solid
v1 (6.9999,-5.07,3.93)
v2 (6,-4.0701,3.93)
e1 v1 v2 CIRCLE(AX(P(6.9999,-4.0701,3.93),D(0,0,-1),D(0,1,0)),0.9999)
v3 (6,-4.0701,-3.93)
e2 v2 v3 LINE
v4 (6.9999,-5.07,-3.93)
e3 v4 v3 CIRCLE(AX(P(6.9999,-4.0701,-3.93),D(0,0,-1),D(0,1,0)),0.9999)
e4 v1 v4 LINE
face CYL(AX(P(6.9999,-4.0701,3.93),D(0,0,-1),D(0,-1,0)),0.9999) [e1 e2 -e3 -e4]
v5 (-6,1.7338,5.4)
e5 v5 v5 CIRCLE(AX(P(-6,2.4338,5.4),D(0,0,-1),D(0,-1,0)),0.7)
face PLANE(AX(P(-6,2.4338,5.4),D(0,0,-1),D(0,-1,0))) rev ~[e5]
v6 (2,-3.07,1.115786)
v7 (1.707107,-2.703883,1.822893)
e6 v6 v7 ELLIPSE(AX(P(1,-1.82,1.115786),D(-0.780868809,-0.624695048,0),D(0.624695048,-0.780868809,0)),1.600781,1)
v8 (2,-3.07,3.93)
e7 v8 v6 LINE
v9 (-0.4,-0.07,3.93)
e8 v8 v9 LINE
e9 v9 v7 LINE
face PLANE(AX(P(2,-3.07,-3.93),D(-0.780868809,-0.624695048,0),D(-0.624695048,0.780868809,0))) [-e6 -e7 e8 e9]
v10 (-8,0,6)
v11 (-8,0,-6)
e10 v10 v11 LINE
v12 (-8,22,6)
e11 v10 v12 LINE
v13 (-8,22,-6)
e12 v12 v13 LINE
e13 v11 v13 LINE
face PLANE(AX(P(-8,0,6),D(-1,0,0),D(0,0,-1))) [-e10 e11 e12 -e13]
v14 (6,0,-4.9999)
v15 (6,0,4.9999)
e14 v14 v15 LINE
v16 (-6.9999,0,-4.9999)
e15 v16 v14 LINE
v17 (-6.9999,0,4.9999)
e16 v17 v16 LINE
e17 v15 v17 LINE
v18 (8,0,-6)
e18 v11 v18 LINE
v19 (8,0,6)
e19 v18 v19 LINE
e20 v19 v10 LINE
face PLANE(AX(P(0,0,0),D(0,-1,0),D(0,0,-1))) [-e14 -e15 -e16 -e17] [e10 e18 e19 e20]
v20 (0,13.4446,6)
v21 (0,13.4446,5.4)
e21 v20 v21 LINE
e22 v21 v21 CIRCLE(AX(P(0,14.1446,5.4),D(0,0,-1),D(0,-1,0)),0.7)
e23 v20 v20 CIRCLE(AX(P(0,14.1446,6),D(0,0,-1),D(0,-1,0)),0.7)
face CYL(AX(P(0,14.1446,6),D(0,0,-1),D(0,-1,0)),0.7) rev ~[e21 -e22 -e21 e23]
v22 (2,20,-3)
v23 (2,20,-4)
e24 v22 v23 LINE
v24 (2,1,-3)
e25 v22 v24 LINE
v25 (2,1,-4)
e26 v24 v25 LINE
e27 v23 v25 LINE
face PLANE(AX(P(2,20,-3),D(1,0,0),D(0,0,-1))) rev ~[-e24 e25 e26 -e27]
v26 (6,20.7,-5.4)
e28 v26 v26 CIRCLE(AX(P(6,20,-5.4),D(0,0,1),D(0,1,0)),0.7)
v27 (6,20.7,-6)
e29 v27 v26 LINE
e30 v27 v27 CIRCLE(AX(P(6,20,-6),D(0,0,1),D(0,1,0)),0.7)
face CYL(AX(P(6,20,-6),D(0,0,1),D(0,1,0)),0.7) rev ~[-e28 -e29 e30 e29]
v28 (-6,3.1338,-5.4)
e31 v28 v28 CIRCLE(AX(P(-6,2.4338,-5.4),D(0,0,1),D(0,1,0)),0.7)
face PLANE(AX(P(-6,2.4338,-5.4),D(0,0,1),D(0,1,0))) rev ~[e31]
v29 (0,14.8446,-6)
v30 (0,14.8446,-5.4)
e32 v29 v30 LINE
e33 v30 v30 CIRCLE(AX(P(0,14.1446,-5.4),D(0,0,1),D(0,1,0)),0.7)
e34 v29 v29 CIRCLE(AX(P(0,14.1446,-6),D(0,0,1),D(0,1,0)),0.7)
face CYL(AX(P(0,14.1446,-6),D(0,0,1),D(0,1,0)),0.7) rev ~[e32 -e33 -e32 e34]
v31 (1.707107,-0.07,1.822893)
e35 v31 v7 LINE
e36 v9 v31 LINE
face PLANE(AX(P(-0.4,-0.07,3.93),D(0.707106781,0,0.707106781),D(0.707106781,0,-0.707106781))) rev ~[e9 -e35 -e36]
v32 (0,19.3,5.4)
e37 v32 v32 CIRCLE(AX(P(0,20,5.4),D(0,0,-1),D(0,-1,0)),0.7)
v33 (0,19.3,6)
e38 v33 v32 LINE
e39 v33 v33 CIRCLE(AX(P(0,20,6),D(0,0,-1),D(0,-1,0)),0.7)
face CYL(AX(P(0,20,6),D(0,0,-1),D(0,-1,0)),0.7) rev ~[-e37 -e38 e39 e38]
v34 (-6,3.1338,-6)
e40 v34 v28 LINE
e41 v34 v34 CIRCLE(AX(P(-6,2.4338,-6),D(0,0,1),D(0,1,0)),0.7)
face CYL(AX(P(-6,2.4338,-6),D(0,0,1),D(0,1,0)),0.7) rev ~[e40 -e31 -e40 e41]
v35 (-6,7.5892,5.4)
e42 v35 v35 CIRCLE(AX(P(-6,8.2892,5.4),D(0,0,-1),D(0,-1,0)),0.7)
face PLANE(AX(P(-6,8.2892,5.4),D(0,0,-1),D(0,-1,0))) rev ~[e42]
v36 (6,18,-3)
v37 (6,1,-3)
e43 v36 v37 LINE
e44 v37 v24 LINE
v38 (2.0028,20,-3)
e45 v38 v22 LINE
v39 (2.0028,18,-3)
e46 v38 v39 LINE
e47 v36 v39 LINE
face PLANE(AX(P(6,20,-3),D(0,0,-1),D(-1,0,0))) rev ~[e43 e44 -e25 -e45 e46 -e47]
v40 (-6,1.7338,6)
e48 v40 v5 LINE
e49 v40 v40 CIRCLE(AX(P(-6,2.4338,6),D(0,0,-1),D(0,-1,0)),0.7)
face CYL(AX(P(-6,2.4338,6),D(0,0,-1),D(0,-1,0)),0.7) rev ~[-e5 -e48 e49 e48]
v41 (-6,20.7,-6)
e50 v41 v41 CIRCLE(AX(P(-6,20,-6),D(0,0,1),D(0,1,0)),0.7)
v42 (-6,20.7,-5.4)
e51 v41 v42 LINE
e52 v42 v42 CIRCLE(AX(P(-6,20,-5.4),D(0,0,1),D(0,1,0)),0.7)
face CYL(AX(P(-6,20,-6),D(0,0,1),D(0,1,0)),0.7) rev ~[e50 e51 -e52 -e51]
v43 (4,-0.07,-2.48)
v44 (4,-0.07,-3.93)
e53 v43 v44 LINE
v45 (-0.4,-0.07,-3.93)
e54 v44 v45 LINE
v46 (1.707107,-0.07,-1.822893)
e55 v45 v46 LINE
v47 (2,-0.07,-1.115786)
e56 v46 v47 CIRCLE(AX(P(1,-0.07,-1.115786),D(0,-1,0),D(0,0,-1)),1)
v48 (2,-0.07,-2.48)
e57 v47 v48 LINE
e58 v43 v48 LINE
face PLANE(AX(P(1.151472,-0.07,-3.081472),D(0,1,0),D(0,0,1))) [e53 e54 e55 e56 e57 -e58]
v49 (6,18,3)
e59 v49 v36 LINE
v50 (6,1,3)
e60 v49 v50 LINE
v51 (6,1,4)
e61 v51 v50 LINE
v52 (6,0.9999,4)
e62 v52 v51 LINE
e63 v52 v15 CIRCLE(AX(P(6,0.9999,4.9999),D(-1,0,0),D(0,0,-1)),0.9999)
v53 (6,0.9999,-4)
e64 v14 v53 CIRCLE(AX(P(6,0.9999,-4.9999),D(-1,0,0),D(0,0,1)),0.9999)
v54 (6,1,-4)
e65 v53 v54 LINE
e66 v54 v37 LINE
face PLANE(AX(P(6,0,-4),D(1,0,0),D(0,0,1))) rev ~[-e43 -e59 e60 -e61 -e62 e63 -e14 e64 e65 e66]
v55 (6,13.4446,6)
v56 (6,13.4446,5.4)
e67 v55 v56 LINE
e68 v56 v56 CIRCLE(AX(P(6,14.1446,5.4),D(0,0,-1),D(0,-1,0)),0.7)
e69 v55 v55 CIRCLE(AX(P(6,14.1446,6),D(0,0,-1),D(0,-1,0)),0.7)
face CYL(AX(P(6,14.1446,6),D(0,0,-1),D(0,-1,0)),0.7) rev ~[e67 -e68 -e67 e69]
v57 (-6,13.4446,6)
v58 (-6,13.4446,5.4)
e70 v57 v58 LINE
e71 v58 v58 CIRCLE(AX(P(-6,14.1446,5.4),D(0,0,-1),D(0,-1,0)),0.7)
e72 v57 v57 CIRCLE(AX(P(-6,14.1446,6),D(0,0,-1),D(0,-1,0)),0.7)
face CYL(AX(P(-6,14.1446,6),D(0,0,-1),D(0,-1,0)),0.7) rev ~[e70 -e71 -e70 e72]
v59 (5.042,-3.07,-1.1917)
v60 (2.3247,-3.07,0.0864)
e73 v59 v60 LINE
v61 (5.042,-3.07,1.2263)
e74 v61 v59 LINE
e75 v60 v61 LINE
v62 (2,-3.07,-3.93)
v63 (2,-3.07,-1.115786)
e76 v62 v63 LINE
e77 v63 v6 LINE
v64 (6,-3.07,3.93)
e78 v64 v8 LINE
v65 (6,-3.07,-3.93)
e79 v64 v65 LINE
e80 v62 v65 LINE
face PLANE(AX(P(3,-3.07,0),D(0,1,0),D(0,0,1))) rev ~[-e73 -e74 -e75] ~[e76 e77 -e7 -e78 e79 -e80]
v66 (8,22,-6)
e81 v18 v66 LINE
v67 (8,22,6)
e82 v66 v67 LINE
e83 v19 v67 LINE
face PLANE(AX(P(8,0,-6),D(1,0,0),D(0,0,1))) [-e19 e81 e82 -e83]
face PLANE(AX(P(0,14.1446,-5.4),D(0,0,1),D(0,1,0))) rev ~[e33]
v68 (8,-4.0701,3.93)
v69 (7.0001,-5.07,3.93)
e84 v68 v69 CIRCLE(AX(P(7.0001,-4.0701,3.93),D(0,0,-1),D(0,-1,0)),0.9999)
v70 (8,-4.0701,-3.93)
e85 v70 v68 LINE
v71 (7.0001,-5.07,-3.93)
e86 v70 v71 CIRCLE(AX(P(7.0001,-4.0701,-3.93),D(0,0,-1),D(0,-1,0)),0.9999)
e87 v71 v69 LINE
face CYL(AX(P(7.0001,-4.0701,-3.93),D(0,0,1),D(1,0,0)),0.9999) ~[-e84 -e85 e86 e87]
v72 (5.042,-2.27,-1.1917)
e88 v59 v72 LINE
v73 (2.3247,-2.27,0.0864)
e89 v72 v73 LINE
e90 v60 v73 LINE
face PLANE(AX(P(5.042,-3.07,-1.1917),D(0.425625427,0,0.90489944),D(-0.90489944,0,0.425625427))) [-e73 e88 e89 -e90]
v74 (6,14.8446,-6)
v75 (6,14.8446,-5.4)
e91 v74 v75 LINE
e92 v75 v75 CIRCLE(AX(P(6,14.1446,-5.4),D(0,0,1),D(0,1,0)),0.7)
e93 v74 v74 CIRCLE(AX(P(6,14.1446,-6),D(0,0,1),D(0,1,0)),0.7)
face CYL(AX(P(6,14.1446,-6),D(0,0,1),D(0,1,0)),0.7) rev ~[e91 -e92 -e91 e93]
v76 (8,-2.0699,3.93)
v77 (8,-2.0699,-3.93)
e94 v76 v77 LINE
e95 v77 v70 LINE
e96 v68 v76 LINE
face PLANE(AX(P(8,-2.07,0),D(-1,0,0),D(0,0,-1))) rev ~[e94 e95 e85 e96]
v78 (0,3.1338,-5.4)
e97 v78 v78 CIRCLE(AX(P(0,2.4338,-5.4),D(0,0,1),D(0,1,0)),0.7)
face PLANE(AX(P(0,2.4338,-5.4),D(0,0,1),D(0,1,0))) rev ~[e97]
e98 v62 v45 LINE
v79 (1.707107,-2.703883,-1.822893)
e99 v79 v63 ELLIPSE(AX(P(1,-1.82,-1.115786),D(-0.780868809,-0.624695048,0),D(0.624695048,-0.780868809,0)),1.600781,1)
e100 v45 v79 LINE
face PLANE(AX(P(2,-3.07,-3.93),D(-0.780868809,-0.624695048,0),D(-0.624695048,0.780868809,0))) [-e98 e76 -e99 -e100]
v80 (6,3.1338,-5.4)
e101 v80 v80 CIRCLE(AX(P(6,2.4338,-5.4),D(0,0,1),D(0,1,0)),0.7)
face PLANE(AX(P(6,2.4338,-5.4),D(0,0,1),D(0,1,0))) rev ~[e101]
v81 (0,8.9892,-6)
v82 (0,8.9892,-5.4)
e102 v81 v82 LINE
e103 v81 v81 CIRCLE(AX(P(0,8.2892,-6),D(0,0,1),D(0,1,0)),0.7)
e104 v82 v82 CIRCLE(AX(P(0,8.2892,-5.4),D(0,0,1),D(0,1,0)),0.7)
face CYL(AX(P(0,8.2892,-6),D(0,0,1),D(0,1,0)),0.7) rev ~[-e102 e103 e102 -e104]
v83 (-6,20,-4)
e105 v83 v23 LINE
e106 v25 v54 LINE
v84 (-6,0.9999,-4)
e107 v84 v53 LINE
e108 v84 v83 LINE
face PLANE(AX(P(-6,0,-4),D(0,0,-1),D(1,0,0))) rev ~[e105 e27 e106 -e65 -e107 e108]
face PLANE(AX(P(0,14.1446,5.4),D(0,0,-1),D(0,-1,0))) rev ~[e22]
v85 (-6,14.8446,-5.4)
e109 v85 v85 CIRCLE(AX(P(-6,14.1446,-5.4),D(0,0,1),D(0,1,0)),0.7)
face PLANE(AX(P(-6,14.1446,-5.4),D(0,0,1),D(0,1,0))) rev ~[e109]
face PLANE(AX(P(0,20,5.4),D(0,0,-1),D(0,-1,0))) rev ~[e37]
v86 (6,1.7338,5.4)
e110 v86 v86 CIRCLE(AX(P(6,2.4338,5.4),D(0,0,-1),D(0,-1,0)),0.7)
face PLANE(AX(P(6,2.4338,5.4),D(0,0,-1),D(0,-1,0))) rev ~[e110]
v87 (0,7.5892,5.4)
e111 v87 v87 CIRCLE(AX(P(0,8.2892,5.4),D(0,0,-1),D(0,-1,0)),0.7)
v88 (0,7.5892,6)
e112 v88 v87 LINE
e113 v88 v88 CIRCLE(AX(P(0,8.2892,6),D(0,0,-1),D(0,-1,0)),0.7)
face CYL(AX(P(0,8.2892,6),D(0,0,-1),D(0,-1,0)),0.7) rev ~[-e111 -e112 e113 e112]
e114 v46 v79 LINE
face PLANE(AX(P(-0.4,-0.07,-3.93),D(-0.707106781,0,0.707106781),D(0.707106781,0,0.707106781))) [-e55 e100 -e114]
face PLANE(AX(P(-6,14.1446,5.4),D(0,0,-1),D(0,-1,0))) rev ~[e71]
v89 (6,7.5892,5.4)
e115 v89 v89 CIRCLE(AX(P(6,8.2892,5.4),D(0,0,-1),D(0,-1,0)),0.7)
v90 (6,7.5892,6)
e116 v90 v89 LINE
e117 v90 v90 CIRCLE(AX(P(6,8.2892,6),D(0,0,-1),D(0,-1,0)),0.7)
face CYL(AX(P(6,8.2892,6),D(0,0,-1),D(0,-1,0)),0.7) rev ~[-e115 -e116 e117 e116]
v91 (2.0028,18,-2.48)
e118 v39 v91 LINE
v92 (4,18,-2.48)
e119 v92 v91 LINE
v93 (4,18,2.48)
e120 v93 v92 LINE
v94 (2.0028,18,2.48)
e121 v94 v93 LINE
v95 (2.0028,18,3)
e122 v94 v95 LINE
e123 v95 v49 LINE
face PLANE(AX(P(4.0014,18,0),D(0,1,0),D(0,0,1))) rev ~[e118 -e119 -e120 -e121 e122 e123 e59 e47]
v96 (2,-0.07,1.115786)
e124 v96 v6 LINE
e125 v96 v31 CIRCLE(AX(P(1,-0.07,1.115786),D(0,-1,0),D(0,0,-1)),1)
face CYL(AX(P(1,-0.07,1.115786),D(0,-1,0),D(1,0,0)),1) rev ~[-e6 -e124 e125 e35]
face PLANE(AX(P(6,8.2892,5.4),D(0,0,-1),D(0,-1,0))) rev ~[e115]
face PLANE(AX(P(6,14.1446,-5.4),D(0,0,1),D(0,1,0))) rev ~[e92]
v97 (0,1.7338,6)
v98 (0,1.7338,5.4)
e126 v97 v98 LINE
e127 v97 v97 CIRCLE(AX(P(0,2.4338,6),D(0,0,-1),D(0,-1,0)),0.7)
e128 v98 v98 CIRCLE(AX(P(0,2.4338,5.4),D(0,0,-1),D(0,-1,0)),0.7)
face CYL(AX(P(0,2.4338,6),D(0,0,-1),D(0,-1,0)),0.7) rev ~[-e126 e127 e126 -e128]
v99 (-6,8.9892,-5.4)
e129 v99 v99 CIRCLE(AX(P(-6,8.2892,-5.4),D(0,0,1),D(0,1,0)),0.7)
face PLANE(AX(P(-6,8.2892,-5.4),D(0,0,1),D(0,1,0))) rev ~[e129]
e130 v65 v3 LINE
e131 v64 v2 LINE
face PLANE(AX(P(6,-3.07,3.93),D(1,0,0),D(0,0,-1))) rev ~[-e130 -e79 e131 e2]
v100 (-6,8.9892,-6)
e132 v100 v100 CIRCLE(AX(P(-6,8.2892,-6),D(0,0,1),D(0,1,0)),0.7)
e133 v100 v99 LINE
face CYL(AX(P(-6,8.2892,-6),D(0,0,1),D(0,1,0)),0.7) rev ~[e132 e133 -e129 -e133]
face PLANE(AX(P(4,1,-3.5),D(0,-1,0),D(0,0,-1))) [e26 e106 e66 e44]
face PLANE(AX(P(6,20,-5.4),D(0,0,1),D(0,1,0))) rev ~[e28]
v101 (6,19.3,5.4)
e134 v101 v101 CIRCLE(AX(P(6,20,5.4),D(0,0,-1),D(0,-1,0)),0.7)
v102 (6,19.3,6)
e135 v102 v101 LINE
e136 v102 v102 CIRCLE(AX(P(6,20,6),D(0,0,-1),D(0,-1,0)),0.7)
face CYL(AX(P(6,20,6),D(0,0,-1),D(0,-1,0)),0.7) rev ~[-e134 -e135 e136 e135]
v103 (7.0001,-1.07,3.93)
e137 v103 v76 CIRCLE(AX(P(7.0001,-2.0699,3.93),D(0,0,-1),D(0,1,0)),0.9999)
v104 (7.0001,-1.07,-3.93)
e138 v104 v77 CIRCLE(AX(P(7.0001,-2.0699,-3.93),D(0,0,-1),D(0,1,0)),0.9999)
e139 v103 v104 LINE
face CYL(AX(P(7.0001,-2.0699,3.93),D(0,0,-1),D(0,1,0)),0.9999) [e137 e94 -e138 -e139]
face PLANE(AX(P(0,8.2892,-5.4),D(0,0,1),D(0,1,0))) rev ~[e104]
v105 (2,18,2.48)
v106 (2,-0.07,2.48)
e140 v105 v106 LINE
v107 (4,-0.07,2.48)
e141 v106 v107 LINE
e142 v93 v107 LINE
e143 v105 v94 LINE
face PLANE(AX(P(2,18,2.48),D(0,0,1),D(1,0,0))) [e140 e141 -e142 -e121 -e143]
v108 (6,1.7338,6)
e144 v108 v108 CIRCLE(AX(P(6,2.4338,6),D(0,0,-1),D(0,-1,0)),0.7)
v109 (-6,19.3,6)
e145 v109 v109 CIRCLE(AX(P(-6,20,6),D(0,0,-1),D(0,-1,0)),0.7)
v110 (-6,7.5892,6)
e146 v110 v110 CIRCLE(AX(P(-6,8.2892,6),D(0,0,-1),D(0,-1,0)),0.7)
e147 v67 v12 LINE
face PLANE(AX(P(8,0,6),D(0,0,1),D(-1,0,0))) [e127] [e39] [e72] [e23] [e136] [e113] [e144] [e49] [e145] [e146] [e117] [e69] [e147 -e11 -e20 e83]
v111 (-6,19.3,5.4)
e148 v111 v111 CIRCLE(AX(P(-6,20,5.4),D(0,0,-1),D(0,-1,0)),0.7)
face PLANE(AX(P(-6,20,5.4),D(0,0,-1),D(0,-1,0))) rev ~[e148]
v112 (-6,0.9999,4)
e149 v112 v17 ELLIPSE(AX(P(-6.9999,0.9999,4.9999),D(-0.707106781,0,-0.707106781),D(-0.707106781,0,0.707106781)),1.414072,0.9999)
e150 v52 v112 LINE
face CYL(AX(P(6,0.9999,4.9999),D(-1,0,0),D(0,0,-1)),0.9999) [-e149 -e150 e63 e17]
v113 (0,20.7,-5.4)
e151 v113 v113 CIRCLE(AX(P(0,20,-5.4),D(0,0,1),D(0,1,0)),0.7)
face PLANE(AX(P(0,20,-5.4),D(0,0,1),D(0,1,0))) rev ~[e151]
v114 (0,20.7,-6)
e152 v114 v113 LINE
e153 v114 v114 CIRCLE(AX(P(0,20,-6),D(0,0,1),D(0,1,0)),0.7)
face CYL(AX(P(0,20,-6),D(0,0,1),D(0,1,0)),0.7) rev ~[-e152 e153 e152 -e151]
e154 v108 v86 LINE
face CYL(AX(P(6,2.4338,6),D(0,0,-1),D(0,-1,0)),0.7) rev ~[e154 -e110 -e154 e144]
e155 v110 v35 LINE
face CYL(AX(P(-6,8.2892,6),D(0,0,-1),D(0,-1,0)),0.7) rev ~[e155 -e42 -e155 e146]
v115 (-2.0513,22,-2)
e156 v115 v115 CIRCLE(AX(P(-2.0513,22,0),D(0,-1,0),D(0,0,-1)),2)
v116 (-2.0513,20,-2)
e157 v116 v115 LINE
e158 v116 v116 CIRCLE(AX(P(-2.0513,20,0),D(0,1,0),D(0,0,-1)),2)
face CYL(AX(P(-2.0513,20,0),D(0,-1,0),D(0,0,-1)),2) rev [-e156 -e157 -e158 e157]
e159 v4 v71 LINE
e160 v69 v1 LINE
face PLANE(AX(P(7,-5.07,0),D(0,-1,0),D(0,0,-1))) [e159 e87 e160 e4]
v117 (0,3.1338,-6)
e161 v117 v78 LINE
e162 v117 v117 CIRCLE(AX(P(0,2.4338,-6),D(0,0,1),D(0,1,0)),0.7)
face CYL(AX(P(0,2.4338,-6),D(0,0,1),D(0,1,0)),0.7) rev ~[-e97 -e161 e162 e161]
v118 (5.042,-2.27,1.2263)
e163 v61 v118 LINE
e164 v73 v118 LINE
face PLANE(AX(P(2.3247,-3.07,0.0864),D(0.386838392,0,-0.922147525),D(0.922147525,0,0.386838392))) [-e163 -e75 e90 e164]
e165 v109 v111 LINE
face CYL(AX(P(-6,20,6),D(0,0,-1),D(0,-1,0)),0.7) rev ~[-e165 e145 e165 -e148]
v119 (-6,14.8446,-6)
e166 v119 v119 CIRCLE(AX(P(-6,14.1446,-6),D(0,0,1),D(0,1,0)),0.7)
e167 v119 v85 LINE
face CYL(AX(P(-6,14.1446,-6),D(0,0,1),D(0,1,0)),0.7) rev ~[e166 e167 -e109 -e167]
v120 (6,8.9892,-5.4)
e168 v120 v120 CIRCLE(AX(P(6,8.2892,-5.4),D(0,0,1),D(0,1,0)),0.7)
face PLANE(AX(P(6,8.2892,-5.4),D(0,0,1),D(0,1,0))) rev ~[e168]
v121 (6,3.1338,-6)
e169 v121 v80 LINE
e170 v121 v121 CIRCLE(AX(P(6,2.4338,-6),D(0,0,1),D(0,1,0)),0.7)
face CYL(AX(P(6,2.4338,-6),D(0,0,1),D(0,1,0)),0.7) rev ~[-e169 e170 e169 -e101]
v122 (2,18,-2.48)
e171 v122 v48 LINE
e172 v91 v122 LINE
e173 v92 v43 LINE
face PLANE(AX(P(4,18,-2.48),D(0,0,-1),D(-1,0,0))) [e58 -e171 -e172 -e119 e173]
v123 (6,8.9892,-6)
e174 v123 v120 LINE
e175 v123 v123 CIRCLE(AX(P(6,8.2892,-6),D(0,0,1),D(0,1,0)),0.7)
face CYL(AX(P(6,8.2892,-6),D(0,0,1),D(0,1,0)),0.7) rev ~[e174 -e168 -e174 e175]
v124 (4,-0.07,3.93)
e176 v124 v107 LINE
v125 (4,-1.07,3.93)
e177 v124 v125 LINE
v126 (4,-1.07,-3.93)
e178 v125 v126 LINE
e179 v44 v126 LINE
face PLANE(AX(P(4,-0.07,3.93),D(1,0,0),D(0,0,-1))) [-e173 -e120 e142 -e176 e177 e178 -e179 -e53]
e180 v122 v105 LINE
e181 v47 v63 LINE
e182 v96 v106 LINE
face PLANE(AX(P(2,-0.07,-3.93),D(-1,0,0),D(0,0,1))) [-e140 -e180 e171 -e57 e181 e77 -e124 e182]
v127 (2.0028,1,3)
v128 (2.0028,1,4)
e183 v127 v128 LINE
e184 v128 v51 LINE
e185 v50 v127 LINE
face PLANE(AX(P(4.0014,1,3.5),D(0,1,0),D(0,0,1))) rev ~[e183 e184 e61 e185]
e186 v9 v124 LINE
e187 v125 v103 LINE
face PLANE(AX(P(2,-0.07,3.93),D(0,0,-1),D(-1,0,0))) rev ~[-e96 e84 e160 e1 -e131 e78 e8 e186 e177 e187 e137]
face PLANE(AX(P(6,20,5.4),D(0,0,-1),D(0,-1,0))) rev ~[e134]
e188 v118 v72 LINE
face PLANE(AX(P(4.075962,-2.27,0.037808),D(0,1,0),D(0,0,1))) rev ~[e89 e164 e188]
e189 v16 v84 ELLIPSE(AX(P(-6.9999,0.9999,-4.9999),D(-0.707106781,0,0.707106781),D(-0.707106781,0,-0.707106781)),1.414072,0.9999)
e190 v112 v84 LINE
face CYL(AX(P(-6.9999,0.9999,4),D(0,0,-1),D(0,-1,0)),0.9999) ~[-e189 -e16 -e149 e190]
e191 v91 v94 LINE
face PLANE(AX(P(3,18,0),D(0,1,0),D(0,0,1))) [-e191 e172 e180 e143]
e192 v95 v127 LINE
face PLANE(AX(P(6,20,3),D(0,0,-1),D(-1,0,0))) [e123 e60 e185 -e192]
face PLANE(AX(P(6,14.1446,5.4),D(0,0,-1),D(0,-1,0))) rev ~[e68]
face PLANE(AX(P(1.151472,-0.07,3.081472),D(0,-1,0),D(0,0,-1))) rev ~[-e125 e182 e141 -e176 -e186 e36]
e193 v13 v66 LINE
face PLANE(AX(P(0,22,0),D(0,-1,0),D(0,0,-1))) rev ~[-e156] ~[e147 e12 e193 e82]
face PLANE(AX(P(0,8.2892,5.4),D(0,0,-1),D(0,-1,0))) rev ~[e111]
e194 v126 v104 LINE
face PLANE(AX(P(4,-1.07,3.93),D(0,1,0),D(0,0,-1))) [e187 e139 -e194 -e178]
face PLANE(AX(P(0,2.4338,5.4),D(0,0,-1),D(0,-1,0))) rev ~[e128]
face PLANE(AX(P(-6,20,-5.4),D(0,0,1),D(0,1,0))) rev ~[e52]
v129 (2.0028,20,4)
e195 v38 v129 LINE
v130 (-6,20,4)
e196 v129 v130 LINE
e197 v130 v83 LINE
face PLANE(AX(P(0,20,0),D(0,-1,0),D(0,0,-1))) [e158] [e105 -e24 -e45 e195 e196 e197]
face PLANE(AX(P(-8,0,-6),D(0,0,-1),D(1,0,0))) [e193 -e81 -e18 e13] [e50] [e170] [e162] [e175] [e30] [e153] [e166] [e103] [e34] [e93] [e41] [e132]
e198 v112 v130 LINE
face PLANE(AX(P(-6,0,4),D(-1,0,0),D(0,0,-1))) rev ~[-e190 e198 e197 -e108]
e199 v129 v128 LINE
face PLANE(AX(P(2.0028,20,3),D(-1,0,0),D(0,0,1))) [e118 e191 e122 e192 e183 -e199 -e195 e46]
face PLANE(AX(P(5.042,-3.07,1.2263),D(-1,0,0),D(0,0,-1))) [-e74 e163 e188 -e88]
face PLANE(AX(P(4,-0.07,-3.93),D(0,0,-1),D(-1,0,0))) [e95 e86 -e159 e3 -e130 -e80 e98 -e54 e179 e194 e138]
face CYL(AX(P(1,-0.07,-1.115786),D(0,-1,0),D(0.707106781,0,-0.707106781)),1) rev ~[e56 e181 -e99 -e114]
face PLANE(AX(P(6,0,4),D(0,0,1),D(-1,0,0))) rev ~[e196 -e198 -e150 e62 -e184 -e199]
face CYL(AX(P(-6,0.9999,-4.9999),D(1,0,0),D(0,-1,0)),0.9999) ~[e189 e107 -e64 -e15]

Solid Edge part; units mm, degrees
sketch "Sketch1" plane through (0, 0, 0) normal (0, -1, 0) x (1, 0, 0)
  line L0 (8, 6) -> (-8, 6)
  line L1 (-8, 6) -> (-8, -6)
  line L2 (-8, -6) -> (8, -6)
  line L3 (8, -6) -> (8, 6)
extrude "Protrusion1" add sketch "Sketch1" against normal blind 22
sketch "Sketch2" plane through (0, 0, 0) normal (0, -1, 0) x (1, 0, 0)
  line L0 (6, 4) -> (-6, 4)
  line L1 (-6, 4) -> (-6, -4)
  line L2 (-6, -4) -> (6, -4)
  line L3 (6, -4) -> (6, 4)
extrude "Cutout1" cut sketch "Sketch2" against normal blind 20
sketch "Sketch3" plane through (0, 20, 0) normal (0, -1, 0) x (1, 0, 0)
  line L0 (6, -3) -> (2, -3)
  line L1 (2, -3) -> (2, -4)
  line L2 (2, -4) -> (6, -4)
  line L3 (6, -4) -> (6, -3)
  line L4 (6, 3) -> (2.0028, 3)
  line L5 (2.0028, 3) -> (2.0028, 4)
  line L6 (2.0028, 4) -> (6, 4)
  line L7 (6, 4) -> (6, 3)
extrude "LockSideProtrusion" add sketch "Sketch3" along normal blind 19
sketch "Sketch4" plane through (0, 20, 0) normal (0, -1, 0) x (1, 0, 0)
  line L0 (6, 3) -> (6, -3)
  line L1 (6, -3) -> (2.0028, -3)
  line L2 (2.0028, -3) -> (2.0028, 3)
  line L3 (2.0028, 3) -> (6, 3)
extrude "LockBaseProtrusion" add sketch "Sketch4" along normal blind 2
sketch "Sketch5" plane through (4.0014, 18, 0) normal (0, -1, 0) x (1, 0, 0)
  line L0 (-0.0014, 2.48) -> (-0.0014, -2.48)
  line L1 (-0.0014, -2.48) -> (-2.0014, -2.48)
  line L2 (-2.0014, -2.48) -> (-2.0014, 2.48)
  line L3 (-2.0014, 2.48) -> (-0.0014, 2.48)
extrude "LockProtrusion" add sketch "Sketch5" along normal blind 18.07
sketch "Sketch6" plane through (3, -0.07, 0) normal (0, -1, 0) x (1, 0, 0)
  line L0 (-1, -3.93) -> (-1, 3.93)
  line L1 (-1, 3.93) -> (1, 3.93)
  line L2 (1, 3.93) -> (1, -3.93)
  line L3 (1, -3.93) -> (-1, -3.93)
extrude "LockHeadMainProtrusion" add sketch "Sketch6" along normal blind 3
sketch "Sketch7" plane through (3, -0.07, 0) normal (0, -1, 0) x (1, 0, 0)
  line L0 (-3.4, 3.93) -> (-1, 1.53)
  line L1 (-1, 1.53) -> (-1, 3.93)
  line L2 (-1, 3.93) -> (-3.4, 3.93)
  line L3 (-3.4, -3.93) -> (-1, -1.53)
  line L4 (-1, -1.53) -> (-1, -3.93)
  line L5 (-1, -3.93) -> (-3.4, -3.93)
  dimension "D1" = 0.07
  dimension "D2" = 7.86
  dimension "D3" = 0.07
extrude "LockHeadTriangleProtrusion" add sketch "Sketch7" along normal blind 3
sketch "Sketch8" plane through (1.8, -1.57, -3.93) normal (0, 0, -1) x (1, 0, 0)
  line L0 (-2.2, 1.5) -> (0.2, 1.5)
  line L1 (0.2, 1.5) -> (-2.2, -1.5)
  line L2 (-2.2, -1.5) -> (-2.2, 1.5)
extrude "LockHeadTriangleCut" cut sketch "Sketch8" against normal blind 8.6519
sketch "Sketch9" plane through (4, 7.465, 0) normal (1, 0, 0) x (0, 0, 1)
  line L0 (-3.93, 10.535) -> (3.93, 10.535)
  line L1 (3.93, 10.535) -> (3.93, 8.535)
  line L2 (3.93, 8.535) -> (-3.93, 8.535)
  line L3 (-3.93, 8.535) -> (-3.93, 10.535)
extrude "FlapBaseProtrusion" add sketch "Sketch9" along normal blind 4
sketch "Sketch10" plane through (5, -3.07, 0) normal (0, -1, 0) x (1, 0, 0)
  line L0 (3, 3.93) -> (1, 3.93)
  line L1 (1, 3.93) -> (1, -3.93)
  line L2 (1, -3.93) -> (3, -3.93)
  line L3 (3, -3.93) -> (3, 3.93)
extrude "FlapHandleProtrusion" add sketch "Sketch10" along normal blind 2
fillet "SlotInnerRound" radius 1 3 edges at (0, 0, 4) (-6, 0, 0) (0, 0, -4)
fillet "FlapRound" radius 1 3 edges at (6, -5.07, 0) (8, -5.07, 0) (8, -1.07, 0)
sketch "Sketch11" plane through (4, -3.07, 0) normal (0, -1, 0) x (1, 0, 0)
  line L0 (-1.6753, 0.0864) -> (1.042, 1.2263)
  line L1 (1.042, 1.2263) -> (1.042, -1.1917)
  line L2 (1.042, -1.1917) -> (-1.6753, 0.0864)
extrude "MarkCut" cut sketch "Sketch11" against normal blind 0.8
hole "PushHole" at (-2.0513, 20, 0) direction (0, 1, 0) diameter 4 end through all
fillet "LockTriangleRound" radius 1 2 edges at (2, -1.57, 1.53) (2, -1.57, -1.53)
hole "GlueHole2" at (-6, 2.4338, -6) direction (0, 0, 1) diameter 1.4 depth 0.6
pattern_linear "Pattern1" count 3 spacing 6 along (1, 0, 0) count 4 spacing 5.8554 along (0, 1, 0) of "GlueHole2"
hole "GlueHole1" at (6, 2.4338, 6) direction (0, 0, -1) diameter 1.4 depth 0.6
pattern_linear "Pattern3" count 3 spacing 6 along (-1, 0, 0) count 4 spacing 5.8554 along (0, 1, 0) of "GlueHole1"
